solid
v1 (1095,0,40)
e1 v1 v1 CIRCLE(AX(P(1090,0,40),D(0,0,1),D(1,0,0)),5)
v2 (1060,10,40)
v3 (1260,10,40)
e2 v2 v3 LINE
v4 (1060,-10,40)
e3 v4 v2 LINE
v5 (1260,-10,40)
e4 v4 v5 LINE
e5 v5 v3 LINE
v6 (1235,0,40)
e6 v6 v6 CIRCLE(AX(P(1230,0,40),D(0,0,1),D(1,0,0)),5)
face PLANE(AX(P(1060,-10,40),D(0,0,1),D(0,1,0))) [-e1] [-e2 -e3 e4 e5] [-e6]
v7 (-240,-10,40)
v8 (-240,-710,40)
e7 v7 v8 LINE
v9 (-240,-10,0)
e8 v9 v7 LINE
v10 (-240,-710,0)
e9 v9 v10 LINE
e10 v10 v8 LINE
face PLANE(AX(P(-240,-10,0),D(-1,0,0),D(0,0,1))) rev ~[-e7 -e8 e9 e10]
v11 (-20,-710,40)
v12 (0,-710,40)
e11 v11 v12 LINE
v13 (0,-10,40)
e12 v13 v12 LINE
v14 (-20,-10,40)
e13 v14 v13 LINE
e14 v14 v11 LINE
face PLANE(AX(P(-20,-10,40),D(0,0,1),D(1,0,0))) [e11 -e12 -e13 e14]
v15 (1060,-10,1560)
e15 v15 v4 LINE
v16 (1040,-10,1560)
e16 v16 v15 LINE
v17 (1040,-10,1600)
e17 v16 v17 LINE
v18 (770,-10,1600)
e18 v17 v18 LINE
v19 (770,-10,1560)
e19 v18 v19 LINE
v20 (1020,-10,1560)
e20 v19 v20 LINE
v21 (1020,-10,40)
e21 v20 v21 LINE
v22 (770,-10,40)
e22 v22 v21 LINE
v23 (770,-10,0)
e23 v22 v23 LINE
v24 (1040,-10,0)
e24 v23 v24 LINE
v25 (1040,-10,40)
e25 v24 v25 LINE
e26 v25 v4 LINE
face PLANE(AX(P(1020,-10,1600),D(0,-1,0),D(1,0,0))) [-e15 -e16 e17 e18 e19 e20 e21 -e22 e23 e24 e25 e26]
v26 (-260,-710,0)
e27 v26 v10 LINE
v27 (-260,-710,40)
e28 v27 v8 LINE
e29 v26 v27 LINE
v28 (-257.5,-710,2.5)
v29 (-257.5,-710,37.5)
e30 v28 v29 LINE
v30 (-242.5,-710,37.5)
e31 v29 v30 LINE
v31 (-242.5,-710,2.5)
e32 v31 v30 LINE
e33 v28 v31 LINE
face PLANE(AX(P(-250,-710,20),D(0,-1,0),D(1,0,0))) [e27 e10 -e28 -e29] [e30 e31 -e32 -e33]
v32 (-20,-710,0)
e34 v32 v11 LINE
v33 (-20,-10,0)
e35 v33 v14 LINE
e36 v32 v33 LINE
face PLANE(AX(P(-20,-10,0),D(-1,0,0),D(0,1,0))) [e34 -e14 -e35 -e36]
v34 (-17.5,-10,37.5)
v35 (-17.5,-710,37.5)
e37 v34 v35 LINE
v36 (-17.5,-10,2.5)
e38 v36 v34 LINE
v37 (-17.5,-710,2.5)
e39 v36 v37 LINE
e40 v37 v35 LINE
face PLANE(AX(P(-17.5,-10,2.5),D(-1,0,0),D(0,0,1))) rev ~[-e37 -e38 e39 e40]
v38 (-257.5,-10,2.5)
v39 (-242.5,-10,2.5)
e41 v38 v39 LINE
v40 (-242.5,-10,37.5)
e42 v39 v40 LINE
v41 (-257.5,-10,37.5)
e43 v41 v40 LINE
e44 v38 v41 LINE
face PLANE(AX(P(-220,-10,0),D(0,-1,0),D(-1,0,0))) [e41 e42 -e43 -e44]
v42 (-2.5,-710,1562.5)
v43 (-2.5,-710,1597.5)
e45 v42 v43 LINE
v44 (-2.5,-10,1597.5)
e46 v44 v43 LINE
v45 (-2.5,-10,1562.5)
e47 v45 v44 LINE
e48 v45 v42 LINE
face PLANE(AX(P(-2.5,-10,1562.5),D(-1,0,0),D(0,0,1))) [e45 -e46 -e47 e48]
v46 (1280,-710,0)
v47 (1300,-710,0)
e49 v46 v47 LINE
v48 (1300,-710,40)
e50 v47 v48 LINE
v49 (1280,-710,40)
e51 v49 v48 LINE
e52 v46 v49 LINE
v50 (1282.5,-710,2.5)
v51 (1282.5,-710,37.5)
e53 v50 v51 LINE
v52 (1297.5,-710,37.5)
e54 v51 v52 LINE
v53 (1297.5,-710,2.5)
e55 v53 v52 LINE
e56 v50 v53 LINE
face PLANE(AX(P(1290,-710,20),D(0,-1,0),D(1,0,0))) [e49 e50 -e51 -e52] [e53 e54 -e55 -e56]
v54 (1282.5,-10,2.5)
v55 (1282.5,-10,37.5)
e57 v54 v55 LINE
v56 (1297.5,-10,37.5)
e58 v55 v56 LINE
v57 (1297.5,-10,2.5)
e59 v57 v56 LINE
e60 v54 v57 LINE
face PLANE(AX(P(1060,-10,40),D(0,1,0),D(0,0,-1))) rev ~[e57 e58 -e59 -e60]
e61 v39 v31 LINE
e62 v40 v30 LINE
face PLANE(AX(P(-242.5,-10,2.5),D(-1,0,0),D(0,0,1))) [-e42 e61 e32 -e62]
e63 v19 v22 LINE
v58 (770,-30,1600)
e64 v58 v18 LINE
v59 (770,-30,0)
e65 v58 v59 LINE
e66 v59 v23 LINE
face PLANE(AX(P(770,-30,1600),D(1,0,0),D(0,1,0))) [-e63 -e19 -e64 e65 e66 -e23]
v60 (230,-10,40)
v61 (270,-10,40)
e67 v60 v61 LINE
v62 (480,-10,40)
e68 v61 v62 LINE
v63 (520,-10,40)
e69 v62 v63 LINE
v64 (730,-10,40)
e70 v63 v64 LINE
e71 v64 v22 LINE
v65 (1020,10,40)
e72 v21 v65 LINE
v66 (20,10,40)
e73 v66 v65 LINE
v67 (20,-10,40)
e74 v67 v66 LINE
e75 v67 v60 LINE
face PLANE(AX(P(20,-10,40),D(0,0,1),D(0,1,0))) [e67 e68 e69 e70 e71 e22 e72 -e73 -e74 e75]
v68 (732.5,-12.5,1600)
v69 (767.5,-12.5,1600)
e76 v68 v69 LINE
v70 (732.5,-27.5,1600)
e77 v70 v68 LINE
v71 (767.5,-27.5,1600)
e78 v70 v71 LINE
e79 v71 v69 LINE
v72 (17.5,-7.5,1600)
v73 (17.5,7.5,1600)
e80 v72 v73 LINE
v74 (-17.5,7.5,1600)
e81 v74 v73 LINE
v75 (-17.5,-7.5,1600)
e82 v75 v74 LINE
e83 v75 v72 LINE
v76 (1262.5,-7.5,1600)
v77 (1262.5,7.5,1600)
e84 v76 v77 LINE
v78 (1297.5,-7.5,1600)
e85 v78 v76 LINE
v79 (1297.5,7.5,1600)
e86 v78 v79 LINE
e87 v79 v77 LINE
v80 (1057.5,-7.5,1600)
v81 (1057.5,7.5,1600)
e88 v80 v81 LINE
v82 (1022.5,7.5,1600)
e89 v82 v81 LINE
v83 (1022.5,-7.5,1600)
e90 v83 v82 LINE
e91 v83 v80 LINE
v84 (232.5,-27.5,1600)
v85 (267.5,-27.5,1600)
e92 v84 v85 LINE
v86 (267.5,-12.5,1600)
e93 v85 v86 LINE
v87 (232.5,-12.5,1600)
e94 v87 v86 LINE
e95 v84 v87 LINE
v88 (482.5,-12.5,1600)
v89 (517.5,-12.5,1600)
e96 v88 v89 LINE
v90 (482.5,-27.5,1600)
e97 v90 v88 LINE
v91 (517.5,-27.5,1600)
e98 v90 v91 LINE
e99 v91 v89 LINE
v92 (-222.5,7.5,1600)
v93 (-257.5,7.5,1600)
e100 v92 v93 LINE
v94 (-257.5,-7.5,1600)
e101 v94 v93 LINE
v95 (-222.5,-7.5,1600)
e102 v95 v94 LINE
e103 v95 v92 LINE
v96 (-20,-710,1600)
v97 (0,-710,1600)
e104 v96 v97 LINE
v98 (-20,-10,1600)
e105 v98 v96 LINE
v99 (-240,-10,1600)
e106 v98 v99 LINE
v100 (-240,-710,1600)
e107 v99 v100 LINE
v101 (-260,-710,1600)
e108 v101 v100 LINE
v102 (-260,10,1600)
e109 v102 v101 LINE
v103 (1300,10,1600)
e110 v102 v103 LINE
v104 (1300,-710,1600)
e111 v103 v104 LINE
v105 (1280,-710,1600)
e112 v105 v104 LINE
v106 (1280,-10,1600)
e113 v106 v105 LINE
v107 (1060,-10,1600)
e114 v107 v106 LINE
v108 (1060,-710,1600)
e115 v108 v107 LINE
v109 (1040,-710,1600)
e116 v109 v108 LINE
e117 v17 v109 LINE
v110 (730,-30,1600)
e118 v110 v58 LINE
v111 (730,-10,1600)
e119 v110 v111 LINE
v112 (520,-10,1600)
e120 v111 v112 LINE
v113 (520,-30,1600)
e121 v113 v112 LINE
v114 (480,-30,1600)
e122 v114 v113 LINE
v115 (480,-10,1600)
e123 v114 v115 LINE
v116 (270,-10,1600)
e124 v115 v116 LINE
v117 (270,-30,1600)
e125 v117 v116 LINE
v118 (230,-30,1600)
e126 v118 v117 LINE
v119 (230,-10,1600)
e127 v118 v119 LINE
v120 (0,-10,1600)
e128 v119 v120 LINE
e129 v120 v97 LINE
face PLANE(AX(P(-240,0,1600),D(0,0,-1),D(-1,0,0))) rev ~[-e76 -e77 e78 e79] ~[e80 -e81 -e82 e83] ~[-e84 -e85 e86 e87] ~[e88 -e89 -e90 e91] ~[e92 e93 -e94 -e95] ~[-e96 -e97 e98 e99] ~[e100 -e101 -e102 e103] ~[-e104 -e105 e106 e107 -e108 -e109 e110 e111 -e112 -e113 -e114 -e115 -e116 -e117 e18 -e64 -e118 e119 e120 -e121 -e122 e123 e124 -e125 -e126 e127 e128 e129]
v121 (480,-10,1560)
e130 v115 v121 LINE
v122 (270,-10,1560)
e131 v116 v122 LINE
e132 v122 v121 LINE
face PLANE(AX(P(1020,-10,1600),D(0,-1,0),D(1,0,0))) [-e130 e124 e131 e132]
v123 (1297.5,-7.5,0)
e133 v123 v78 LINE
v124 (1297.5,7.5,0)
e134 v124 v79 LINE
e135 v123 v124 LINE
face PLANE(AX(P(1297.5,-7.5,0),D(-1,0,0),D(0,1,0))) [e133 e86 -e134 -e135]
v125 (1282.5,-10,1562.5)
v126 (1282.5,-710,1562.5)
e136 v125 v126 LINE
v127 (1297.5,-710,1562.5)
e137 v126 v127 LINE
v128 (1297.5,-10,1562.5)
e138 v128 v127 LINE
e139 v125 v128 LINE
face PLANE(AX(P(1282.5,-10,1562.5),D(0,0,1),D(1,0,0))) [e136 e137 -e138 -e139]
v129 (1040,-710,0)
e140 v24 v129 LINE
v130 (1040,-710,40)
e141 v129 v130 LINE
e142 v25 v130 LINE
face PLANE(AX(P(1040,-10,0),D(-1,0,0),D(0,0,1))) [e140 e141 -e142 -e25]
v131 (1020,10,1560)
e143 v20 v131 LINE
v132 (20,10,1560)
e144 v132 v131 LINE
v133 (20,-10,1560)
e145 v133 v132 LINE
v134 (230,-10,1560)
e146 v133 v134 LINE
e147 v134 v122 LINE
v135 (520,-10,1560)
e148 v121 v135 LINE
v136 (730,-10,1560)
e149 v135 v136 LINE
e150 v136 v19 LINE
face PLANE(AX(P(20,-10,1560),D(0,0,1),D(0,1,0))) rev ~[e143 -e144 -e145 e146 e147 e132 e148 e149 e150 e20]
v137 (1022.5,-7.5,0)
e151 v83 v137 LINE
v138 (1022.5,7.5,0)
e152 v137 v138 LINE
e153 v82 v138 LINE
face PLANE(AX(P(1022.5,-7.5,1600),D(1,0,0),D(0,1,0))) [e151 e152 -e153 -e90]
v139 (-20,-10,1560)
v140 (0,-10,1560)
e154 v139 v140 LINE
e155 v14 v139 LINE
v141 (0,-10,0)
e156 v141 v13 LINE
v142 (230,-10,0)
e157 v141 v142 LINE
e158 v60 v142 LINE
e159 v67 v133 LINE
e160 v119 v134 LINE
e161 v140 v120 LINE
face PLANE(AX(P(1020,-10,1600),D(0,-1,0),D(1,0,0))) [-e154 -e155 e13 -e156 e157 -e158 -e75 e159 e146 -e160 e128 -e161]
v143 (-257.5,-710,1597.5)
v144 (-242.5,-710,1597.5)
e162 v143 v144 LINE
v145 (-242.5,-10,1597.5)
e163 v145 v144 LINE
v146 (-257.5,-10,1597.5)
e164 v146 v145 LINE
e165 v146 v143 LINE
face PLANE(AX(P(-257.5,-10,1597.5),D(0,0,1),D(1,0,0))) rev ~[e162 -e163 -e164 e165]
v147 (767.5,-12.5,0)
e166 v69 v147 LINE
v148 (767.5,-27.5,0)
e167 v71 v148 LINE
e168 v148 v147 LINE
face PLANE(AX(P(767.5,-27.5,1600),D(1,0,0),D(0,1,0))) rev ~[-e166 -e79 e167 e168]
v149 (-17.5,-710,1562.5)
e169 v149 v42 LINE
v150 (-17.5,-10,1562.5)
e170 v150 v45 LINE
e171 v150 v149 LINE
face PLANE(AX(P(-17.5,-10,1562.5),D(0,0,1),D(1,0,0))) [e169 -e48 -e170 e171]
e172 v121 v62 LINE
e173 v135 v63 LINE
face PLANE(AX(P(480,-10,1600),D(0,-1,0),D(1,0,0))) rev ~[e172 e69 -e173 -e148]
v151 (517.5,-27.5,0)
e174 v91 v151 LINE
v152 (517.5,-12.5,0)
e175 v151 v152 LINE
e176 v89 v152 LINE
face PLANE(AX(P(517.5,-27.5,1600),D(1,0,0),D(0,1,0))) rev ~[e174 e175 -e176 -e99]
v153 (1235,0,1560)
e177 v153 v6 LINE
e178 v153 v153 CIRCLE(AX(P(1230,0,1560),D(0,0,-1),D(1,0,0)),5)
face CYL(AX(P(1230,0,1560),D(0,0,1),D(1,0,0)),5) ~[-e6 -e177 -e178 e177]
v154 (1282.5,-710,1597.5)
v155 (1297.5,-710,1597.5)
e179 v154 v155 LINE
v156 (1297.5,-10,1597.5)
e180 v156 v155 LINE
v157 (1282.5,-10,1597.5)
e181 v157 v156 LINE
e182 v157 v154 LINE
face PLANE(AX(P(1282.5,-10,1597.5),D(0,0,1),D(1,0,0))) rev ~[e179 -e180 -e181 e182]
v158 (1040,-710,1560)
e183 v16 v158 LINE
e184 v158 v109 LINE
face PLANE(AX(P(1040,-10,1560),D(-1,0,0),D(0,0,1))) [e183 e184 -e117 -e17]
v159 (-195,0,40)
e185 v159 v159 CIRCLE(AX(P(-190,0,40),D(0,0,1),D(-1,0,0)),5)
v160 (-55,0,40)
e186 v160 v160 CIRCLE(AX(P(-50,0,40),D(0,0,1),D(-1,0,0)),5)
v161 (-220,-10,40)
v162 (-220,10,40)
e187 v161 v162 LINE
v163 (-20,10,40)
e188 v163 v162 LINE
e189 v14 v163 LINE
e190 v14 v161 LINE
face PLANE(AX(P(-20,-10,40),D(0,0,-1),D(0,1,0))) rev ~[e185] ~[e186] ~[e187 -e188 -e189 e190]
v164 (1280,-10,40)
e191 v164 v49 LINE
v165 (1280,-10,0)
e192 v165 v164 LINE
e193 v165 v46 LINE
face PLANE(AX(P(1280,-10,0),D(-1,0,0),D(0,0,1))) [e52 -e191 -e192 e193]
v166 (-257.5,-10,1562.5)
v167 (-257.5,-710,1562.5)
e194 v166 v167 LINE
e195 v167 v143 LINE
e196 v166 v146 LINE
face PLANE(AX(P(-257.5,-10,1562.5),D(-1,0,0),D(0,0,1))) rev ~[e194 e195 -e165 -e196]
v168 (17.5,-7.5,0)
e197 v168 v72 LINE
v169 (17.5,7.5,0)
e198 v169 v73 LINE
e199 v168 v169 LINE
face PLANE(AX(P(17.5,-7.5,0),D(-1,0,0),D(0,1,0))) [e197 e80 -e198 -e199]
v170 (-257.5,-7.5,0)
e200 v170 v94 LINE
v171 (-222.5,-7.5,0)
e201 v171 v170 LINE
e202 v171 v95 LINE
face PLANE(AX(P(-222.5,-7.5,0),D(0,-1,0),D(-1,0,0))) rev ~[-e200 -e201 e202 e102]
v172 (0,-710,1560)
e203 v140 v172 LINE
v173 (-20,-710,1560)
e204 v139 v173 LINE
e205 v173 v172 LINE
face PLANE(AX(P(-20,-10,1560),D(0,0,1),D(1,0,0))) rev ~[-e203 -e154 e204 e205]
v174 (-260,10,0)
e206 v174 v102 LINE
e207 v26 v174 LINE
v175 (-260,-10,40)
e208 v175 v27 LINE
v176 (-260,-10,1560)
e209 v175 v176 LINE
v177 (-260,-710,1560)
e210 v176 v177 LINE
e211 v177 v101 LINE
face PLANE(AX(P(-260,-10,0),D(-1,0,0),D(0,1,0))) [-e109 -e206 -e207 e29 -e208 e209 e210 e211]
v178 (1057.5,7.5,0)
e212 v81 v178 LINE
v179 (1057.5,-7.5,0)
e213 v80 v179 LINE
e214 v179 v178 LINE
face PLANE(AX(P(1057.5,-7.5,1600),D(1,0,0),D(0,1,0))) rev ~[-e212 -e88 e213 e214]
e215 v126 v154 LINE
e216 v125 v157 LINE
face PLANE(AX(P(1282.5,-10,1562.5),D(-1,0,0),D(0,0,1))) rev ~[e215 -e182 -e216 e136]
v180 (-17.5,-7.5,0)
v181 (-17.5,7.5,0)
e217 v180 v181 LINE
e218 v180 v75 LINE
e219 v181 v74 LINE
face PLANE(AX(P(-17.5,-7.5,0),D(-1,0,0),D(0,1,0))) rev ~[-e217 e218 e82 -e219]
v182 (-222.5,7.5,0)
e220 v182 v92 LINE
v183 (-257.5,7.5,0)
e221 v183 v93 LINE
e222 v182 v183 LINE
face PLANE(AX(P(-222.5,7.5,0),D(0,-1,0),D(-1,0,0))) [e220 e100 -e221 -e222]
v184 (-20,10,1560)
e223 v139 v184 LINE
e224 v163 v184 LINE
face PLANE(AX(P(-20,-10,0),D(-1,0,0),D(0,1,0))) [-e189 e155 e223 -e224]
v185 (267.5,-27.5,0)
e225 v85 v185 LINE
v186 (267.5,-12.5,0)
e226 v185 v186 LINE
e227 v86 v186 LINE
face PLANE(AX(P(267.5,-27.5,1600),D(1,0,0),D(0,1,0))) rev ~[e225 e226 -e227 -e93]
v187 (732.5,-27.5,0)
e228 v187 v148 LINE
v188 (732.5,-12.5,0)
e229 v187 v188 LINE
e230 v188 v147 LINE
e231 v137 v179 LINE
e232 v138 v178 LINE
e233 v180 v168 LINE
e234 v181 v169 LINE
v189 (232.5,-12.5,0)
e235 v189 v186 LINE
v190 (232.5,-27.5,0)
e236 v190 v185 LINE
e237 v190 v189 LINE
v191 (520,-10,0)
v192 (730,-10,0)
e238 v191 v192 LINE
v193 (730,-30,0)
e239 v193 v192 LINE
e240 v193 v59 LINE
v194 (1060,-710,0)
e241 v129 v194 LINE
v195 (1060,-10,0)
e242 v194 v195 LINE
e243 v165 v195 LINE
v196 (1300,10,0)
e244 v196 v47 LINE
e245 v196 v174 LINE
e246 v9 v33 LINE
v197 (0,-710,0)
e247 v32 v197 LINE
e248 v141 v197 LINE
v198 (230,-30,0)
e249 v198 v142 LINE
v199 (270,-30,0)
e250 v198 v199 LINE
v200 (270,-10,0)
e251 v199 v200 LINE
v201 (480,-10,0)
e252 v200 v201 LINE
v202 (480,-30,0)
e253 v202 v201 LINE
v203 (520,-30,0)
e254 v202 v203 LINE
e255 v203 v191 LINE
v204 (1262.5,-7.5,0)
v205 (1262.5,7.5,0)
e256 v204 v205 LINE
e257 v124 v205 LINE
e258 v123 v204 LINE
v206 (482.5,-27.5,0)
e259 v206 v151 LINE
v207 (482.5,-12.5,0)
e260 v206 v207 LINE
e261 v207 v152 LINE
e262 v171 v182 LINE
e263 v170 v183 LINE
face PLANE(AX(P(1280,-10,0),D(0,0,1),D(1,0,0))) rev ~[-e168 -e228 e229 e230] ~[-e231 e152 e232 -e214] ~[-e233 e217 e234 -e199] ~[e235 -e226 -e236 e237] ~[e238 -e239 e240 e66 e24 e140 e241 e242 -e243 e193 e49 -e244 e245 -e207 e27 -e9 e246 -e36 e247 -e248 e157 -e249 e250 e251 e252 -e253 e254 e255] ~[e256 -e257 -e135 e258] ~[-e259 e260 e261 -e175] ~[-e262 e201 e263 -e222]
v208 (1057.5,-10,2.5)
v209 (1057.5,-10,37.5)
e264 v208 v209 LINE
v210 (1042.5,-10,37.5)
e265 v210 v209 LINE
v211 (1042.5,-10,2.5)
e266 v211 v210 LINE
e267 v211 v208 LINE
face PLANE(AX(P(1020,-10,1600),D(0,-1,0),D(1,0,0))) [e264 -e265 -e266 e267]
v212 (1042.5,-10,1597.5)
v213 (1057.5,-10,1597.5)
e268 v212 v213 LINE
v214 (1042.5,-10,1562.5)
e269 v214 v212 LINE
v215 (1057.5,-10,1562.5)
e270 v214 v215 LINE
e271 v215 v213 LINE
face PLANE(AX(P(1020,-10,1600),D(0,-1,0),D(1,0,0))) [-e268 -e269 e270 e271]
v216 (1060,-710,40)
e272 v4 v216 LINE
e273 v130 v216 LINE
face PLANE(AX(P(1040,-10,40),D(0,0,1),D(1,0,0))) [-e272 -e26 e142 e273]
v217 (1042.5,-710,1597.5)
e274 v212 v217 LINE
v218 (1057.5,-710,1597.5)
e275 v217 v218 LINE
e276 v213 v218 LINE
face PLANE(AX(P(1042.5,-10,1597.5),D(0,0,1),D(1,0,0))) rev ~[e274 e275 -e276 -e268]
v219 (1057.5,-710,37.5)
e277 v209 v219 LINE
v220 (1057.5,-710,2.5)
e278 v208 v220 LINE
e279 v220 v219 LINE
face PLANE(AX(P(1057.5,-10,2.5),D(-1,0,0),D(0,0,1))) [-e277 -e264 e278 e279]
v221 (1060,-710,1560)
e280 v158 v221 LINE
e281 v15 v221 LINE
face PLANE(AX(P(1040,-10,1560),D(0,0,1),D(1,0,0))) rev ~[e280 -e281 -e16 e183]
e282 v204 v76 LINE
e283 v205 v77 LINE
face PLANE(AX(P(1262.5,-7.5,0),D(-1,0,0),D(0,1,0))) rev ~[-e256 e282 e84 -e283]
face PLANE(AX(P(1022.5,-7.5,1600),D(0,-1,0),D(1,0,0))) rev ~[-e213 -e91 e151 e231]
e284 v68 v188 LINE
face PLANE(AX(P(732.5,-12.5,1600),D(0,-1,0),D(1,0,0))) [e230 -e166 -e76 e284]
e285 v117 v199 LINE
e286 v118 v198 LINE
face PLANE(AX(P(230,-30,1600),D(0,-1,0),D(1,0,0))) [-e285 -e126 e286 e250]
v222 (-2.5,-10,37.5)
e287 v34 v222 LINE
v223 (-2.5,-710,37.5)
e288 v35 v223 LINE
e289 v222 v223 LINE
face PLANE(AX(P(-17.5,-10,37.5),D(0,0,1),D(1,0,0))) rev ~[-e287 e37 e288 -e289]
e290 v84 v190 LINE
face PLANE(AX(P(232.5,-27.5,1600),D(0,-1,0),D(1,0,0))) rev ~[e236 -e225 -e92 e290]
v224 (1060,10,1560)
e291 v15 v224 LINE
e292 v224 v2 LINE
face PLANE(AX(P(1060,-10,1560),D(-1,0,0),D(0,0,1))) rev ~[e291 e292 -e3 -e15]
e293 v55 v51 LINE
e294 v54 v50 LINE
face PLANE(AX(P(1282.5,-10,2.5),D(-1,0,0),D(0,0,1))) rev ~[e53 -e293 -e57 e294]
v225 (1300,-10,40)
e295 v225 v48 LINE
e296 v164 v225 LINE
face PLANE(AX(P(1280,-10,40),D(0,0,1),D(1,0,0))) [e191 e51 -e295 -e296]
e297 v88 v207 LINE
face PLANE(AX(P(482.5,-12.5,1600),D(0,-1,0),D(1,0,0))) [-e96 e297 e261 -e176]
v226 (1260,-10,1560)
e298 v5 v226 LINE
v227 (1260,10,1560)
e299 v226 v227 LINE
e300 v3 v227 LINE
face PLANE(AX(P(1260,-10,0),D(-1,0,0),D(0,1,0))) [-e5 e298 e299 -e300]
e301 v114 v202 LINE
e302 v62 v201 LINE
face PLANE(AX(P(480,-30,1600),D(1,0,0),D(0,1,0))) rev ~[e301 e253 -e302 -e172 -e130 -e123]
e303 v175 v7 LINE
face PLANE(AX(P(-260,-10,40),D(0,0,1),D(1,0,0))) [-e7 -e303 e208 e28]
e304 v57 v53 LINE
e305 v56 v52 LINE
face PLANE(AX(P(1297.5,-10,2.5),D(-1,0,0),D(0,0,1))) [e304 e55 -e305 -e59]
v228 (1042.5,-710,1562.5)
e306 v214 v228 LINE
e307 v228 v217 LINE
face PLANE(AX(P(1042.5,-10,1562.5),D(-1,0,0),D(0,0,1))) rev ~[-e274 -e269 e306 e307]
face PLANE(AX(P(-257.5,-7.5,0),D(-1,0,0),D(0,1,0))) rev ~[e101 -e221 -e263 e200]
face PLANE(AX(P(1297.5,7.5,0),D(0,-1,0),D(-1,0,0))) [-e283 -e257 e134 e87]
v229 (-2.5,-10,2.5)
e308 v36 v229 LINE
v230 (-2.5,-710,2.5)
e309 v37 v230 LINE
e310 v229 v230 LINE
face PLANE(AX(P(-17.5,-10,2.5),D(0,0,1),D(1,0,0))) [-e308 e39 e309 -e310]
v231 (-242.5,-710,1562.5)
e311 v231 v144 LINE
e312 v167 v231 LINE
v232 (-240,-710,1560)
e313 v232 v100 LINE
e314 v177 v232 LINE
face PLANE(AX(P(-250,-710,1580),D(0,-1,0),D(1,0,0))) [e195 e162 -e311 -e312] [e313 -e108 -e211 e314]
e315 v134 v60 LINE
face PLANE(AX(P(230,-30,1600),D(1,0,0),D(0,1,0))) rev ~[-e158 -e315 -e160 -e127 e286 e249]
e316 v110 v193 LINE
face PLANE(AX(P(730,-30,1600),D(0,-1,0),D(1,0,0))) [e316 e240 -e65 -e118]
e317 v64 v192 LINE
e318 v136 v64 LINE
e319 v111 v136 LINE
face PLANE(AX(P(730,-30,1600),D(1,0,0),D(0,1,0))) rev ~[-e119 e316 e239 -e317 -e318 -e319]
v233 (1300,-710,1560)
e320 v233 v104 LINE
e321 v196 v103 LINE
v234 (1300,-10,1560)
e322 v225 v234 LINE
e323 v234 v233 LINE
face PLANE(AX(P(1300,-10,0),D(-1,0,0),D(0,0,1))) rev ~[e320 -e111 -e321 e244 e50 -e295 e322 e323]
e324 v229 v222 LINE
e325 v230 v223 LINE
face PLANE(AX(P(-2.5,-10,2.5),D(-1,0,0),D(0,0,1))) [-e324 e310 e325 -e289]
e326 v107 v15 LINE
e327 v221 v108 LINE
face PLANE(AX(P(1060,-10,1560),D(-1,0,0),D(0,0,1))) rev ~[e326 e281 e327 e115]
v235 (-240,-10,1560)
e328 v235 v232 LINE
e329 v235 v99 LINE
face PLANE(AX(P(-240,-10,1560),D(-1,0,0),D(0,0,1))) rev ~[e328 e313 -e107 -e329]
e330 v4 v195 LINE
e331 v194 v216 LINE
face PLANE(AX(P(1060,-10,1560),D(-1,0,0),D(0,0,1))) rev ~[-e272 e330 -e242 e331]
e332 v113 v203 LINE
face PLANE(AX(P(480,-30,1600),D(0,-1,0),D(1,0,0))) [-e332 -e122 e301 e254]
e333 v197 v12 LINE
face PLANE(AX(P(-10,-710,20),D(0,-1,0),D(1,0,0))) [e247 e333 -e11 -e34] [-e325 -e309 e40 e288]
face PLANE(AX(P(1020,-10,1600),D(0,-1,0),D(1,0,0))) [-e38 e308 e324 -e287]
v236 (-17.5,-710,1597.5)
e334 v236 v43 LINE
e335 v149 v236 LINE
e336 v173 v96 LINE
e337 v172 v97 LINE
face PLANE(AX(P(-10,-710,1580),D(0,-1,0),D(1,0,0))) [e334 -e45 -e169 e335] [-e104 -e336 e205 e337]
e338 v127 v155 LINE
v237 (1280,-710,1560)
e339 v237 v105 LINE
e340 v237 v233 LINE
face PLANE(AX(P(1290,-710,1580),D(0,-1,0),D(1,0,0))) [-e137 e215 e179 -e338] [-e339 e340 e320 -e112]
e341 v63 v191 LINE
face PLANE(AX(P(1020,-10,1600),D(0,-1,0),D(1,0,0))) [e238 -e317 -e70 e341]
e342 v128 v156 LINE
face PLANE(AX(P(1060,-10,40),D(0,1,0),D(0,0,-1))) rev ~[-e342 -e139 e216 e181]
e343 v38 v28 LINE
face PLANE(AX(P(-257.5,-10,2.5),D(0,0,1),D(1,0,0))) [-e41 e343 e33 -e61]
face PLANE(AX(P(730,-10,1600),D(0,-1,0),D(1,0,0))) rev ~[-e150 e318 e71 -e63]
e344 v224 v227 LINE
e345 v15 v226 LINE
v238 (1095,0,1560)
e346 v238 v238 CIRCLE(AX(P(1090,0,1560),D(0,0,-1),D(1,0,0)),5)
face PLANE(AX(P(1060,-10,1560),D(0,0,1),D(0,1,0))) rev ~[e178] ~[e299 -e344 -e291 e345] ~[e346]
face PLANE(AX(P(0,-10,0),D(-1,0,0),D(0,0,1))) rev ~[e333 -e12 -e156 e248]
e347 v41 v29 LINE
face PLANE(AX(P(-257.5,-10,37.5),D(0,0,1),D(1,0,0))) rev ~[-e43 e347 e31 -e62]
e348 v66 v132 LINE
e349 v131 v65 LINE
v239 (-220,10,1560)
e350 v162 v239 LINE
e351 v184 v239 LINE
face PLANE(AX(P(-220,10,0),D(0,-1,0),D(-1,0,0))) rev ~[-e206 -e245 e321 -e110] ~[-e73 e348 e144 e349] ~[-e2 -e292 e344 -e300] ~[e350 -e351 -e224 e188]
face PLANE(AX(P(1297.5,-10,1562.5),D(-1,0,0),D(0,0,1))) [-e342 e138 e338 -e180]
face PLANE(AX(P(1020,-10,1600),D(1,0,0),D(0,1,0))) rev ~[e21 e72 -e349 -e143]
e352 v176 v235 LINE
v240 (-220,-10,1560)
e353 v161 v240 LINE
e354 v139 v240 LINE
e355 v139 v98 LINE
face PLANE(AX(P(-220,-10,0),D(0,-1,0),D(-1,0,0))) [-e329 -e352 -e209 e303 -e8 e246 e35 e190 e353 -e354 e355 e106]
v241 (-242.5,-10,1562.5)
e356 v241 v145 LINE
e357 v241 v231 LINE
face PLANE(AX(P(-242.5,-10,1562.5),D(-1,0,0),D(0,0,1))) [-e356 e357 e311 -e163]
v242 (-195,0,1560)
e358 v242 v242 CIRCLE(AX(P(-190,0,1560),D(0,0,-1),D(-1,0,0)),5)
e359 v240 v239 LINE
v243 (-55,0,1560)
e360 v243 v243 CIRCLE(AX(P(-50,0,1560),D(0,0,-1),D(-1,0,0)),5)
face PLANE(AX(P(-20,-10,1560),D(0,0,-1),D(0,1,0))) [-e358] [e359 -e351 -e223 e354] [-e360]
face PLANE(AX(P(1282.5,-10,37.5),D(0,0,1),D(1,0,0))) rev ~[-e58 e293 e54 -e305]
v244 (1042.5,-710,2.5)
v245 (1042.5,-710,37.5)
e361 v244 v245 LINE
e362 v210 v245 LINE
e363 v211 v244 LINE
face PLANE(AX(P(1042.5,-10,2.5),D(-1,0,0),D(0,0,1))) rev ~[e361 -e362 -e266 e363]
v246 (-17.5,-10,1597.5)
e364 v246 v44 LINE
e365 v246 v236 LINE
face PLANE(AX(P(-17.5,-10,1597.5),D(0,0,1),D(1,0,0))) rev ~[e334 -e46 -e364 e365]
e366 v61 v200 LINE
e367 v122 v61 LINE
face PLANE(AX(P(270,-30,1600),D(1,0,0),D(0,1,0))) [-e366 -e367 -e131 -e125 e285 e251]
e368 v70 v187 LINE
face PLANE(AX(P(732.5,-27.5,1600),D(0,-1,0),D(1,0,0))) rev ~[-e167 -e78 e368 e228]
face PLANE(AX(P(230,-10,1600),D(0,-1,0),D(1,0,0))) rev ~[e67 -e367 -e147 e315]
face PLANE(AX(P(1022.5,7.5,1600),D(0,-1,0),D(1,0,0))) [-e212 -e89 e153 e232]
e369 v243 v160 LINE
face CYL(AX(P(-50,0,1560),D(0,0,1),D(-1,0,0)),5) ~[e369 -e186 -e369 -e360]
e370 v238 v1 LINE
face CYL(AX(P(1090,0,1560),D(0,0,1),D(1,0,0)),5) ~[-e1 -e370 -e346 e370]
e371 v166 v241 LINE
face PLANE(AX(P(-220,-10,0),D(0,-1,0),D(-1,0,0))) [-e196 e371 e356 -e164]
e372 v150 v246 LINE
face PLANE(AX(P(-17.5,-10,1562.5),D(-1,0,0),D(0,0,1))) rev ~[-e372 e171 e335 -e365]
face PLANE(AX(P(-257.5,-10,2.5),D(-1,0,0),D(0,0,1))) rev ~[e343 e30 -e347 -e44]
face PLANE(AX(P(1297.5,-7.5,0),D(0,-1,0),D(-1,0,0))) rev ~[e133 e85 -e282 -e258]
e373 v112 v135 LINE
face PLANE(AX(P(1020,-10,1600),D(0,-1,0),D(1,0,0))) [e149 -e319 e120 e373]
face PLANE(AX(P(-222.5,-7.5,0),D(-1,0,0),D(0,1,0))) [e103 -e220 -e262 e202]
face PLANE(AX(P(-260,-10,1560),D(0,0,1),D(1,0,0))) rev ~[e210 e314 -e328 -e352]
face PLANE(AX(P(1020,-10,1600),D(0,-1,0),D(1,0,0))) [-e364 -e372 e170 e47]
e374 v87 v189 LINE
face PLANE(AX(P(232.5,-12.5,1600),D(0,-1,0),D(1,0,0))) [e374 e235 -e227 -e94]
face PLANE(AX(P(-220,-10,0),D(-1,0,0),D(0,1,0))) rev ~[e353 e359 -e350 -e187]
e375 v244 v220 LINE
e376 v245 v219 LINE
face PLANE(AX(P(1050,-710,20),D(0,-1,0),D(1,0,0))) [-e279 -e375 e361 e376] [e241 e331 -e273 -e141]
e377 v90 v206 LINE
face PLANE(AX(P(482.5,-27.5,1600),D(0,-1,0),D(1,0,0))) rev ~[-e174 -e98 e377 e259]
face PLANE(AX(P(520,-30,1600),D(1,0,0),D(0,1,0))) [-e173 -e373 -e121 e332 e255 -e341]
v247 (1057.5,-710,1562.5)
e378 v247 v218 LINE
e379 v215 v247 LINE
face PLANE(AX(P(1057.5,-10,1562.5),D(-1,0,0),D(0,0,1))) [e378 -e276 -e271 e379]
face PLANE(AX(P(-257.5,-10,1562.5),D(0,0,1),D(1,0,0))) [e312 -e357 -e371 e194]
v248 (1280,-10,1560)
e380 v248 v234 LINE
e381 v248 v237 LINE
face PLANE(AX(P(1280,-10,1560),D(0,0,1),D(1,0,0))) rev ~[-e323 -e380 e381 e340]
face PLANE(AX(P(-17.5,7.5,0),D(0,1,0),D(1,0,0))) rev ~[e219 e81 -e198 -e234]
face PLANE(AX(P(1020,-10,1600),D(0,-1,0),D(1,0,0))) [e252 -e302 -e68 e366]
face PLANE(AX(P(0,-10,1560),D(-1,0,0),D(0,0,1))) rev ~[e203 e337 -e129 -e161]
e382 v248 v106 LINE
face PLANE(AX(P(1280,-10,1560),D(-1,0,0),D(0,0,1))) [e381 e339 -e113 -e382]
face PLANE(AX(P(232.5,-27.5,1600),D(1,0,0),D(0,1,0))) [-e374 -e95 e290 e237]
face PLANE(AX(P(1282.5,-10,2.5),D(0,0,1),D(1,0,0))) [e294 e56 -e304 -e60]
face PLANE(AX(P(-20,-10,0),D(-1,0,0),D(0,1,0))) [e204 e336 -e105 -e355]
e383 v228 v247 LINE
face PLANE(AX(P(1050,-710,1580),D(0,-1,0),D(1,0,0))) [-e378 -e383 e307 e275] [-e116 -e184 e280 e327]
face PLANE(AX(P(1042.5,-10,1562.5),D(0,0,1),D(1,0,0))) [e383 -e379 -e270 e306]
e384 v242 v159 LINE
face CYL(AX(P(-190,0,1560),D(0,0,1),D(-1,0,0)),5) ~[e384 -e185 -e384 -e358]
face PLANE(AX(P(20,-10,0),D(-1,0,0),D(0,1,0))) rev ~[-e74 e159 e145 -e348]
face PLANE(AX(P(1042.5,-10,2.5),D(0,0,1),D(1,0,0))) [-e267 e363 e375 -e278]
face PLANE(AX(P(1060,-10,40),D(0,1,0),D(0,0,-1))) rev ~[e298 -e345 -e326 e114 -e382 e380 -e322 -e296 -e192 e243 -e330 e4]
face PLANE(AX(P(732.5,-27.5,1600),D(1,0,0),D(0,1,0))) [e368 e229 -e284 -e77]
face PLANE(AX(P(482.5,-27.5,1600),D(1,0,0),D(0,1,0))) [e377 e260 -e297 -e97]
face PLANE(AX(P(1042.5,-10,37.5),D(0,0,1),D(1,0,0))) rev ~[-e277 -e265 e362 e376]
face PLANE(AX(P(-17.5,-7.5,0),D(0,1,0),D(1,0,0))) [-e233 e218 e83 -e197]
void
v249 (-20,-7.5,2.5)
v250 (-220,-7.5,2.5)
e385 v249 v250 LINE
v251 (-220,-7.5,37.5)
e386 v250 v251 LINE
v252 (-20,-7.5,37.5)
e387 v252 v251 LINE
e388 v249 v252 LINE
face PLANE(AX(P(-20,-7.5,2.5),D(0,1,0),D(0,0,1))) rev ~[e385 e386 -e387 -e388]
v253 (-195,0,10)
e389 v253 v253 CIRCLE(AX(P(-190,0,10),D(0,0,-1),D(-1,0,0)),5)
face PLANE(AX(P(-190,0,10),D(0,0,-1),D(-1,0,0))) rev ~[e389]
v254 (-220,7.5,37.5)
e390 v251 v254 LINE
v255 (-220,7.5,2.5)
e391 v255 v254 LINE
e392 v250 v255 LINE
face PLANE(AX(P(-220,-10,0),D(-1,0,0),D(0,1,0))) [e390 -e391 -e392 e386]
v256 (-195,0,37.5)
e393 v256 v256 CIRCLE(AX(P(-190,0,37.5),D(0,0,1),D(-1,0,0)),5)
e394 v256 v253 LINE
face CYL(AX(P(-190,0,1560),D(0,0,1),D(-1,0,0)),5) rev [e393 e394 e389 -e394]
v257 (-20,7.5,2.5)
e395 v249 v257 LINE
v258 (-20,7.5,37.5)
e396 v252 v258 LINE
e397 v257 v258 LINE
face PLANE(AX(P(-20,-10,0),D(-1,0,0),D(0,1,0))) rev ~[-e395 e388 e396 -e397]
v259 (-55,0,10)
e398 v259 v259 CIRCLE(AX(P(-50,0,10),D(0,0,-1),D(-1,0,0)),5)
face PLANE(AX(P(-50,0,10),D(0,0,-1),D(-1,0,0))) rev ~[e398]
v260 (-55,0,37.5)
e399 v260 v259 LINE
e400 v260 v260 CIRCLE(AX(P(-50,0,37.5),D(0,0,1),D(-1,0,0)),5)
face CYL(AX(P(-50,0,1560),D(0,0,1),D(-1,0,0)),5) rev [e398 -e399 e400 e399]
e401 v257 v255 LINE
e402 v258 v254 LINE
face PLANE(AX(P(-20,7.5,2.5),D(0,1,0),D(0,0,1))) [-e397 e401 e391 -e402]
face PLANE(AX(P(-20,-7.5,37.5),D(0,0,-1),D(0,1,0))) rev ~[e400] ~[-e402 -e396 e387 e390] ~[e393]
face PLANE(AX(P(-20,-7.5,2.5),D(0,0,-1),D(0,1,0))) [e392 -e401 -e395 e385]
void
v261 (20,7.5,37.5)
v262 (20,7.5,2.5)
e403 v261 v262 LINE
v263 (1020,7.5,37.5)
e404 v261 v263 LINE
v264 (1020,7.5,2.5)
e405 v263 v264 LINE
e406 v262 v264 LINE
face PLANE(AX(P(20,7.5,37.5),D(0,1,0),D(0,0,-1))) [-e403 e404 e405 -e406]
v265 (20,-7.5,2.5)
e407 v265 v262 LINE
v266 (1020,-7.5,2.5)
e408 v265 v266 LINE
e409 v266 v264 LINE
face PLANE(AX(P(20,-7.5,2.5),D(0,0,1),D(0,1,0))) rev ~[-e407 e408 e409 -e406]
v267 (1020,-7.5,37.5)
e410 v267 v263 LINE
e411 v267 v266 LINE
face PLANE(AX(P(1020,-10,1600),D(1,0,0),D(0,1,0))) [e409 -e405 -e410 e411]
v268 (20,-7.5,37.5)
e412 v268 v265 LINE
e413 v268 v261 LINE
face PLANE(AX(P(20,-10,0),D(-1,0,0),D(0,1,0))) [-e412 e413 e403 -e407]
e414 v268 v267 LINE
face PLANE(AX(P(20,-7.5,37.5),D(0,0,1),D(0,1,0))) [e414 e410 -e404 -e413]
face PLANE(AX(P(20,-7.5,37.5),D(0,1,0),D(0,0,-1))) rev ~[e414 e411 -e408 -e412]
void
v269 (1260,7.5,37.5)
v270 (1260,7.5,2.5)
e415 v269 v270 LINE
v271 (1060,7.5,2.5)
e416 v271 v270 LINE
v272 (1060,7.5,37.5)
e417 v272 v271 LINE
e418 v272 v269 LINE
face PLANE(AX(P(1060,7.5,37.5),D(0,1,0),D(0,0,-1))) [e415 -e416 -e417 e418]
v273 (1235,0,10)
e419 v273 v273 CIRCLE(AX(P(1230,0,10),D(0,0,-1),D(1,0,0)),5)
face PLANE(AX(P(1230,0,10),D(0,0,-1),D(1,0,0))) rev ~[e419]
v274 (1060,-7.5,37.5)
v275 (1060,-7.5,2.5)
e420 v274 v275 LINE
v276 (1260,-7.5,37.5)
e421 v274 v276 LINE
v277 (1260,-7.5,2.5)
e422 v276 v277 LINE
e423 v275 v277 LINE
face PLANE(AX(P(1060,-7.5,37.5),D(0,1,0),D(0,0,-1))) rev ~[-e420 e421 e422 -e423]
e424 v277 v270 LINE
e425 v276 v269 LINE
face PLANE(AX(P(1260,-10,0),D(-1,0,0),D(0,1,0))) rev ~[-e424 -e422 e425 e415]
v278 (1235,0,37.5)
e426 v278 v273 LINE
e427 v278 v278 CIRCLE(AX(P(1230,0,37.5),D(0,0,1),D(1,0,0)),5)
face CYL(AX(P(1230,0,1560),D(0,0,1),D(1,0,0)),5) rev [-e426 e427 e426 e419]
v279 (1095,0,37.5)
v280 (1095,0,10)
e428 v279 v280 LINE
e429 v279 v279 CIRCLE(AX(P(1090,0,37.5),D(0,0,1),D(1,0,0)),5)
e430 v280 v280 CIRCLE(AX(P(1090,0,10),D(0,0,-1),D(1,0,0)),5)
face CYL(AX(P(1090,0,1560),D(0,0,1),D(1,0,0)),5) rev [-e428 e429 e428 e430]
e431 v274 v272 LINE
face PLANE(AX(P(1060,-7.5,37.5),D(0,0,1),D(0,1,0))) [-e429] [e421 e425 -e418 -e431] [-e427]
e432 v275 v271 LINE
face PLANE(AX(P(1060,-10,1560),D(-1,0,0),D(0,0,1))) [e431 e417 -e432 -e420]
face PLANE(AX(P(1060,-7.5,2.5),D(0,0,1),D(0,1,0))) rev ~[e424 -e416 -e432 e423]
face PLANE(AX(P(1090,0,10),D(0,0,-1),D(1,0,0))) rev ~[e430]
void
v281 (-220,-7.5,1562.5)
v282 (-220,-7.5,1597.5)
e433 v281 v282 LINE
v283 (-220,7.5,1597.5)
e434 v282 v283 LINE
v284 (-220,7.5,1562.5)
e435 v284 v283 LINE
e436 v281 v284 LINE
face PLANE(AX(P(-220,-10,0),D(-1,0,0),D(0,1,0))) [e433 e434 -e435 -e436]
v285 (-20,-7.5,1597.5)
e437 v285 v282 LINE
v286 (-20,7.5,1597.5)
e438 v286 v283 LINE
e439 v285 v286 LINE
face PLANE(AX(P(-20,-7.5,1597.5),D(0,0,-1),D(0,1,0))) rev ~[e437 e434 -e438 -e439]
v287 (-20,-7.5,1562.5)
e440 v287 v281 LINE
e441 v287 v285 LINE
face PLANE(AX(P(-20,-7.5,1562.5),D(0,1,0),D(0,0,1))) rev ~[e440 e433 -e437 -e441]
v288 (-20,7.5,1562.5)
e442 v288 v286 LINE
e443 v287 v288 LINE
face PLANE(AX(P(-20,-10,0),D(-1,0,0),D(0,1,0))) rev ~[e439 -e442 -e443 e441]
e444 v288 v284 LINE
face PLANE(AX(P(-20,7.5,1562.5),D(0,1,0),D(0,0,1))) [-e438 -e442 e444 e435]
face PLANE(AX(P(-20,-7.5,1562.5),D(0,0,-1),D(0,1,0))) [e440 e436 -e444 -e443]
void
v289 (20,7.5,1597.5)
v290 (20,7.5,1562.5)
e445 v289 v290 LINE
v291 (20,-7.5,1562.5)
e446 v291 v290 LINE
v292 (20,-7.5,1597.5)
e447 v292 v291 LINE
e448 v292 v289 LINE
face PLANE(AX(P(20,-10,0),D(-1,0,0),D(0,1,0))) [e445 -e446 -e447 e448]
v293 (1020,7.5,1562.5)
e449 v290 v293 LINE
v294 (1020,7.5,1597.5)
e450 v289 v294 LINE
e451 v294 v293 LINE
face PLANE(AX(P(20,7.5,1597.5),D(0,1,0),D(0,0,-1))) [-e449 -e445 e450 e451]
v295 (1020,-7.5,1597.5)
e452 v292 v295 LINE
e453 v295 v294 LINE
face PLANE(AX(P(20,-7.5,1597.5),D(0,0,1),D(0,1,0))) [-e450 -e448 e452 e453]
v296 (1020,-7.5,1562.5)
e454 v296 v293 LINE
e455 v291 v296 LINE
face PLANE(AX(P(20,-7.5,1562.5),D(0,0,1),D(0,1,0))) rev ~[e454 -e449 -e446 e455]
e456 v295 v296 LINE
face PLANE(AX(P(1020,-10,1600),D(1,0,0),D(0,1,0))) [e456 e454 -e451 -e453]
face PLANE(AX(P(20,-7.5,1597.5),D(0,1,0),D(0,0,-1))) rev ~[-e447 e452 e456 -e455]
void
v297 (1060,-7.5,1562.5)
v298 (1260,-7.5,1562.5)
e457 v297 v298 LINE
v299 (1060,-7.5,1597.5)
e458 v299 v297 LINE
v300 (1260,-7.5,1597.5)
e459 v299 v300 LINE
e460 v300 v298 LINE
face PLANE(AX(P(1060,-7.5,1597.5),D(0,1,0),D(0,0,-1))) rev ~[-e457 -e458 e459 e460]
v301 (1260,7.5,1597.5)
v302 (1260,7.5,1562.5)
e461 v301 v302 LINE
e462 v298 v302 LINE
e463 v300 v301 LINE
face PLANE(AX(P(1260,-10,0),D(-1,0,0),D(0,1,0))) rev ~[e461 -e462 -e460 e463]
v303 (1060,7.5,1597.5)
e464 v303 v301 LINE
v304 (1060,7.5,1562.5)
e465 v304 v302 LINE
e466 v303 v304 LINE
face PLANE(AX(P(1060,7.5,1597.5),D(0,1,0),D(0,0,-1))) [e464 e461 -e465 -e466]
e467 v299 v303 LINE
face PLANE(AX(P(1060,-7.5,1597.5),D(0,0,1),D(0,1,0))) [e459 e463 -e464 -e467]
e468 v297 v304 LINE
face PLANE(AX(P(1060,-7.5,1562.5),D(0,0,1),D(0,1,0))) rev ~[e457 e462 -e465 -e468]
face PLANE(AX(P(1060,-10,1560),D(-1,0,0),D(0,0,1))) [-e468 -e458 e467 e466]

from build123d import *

# Parameters (mm, degrees)
SKETCH1_W            = 40
SKETCH1_H            = 20
SKETCH1_W_2          = 35
SKETCH1_H_2          = 15
BOSS_EXTRUDE1_DEPTH  = 1600
SKETCH2_W            = 40
SKETCH2_H            = 20
SKETCH2_W_2          = 35
SKETCH2_H_2          = 15
BOSS_EXTRUDE3_DEPTH  = 1000
SKETCH3_W            = 40
SKETCH3_H            = 20
SKETCH3_W_2          = 35
SKETCH3_H_2          = 15
BOSS_EXTRUDE4_DEPTH  = 1600
SKETCH4_W            = 20
SKETCH4_H            = 40
SKETCH4_W_2          = 15
SKETCH4_H_2          = 35
BOSS_EXTRUDE5_DEPTH  = 700
SKETCH5_W            = 40
SKETCH5_H            = 20
SKETCH5_W_2          = 35
SKETCH5_H_2          = 15
BOSS_EXTRUDE6_DEPTH  = 1600
SKETCH7_W            = 40
SKETCH7_H            = 20
SKETCH7_W_2          = 35
SKETCH7_H_2          = 15
BOSS_EXTRUDE7_DEPTH  = 200
SKETCH10_W           = 40
SKETCH10_H           = 20
SKETCH10_W_2         = 35
SKETCH10_H_2         = 15
BOSS_EXTRUDE9_DEPTH  = 200
SKETCH11_W           = 40
SKETCH11_H           = 20
SKETCH11_W_2         = 35
SKETCH11_H_2         = 15
BOSS_EXTRUDE10_DEPTH = 1600
SKETCH12_W           = 20
SKETCH12_H           = 40
SKETCH12_W_2         = 15
SKETCH12_H_2         = 35
BOSS_EXTRUDE11_DEPTH = 700
SKETCH14_R           = 5
BOSS_EXTRUDE13_DEPTH = 1550


with BuildPart() as part:
    # Sketch1 → Boss-Extrude1 (new body)
    with BuildSketch(Plane.XY):
        Rectangle(SKETCH1_W, SKETCH1_H)
        Rectangle(SKETCH1_W_2, SKETCH1_H_2, mode=Mode.SUBTRACT)
    extrude(amount=BOSS_EXTRUDE1_DEPTH)

    # Sketch2 → Boss-Extrude3 (add)
    # profile 1 of 2: a face of its own
    with BuildSketch(Plane(origin=(20, 0, 0), x_dir=(0, 0, -1), z_dir=(1, 0, 0))):
        with Locations((-1580, 0)):
            Rectangle(SKETCH2_W, SKETCH2_H)
        with Locations((-1580, 0)):
            Rectangle(SKETCH2_W_2, SKETCH2_H_2, mode=Mode.SUBTRACT)
    # profile 2 of 2: a face of its own
    with BuildSketch(Plane(origin=(20, 0, 0), x_dir=(0, 0, -1), z_dir=(1, 0, 0))):
        with Locations((-20, 0)):
            Rectangle(SKETCH2_W, SKETCH2_H)
        with Locations((-20, 0)):
            Rectangle(SKETCH2_W_2, SKETCH2_H_2, mode=Mode.SUBTRACT)
    extrude(amount=BOSS_EXTRUDE3_DEPTH)

    # Sketch3 → Boss-Extrude4 (add)
    with BuildSketch(Plane.XY.offset(1600)):
        with Locations((1040, 0)):
            Rectangle(SKETCH3_W, SKETCH3_H)
        with Locations((1040, 0)):
            Rectangle(SKETCH3_W_2, SKETCH3_H_2, mode=Mode.SUBTRACT)
    extrude(amount=-BOSS_EXTRUDE4_DEPTH)

    # Sketch4 → Boss-Extrude5 (add)
    # profile 1 of 4: a face of its own
    with BuildSketch(Plane.XZ.offset(10)):
        with Locations((1050, 1580)):
            Rectangle(SKETCH4_W, SKETCH4_H)
        with Locations((1050, 1580)):
            Rectangle(SKETCH4_W_2, SKETCH4_H_2, mode=Mode.SUBTRACT)
    # profile 2 of 4: a face of its own
    with BuildSketch(Plane.XZ.offset(10)):
        with Locations((1050, 20)):
            Rectangle(SKETCH4_W, SKETCH4_H)
        with Locations((1050, 20)):
            Rectangle(SKETCH4_W_2, SKETCH4_H_2, mode=Mode.SUBTRACT)
    # profile 3 of 4: a face of its own
    with BuildSketch(Plane.XZ.offset(10)):
        with Locations((-10, 20)):
            Rectangle(SKETCH4_W, SKETCH4_H)
        with Locations((-10, 20)):
            Rectangle(SKETCH4_W_2, SKETCH4_H_2, mode=Mode.SUBTRACT)
    # profile 4 of 4: a face of its own
    with BuildSketch(Plane.XZ.offset(10)):
        with Locations((-10, 1580)):
            Rectangle(SKETCH4_W, SKETCH4_H)
        with Locations((-10, 1580)):
            Rectangle(SKETCH4_W_2, SKETCH4_H_2, mode=Mode.SUBTRACT)
    extrude(amount=BOSS_EXTRUDE5_DEPTH)

    # Sketch5 → Boss-Extrude6 (add)
    # profile 1 of 3: a face of its own
    with BuildSketch(Plane.XY.offset(1600)):
        with Locations((250, -20)):
            Rectangle(SKETCH5_W, SKETCH5_H)
        with Locations((250, -20)):
            Rectangle(SKETCH5_W_2, SKETCH5_H_2, mode=Mode.SUBTRACT)
    # profile 2 of 3: a face of its own
    with BuildSketch(Plane.XY.offset(1600)):
        with Locations((500, -20)):
            Rectangle(SKETCH5_W, SKETCH5_H)
        with Locations((500, -20)):
            Rectangle(SKETCH5_W_2, SKETCH5_H_2, mode=Mode.SUBTRACT)
    # profile 3 of 3: a face of its own
    with BuildSketch(Plane.XY.offset(1600)):
        with Locations((750, -20)):
            Rectangle(SKETCH5_W, SKETCH5_H)
        with Locations((750, -20)):
            Rectangle(SKETCH5_W_2, SKETCH5_H_2, mode=Mode.SUBTRACT)
    extrude(amount=-BOSS_EXTRUDE6_DEPTH)

    # Sketch7 → Boss-Extrude7 (add)
    # profile 1 of 2: a face of its own
    with BuildSketch(Plane(origin=(1060, 0, 0), x_dir=(0, 0, -1), z_dir=(1, 0, 0))):
        with Locations((-1580, 0)):
            Rectangle(SKETCH7_W, SKETCH7_H)
        with Locations((-1580, 0)):
            Rectangle(SKETCH7_W_2, SKETCH7_H_2, mode=Mode.SUBTRACT)
    # profile 2 of 2: a face of its own
    with BuildSketch(Plane(origin=(1060, 0, 0), x_dir=(0, 0, -1), z_dir=(1, 0, 0))):
        with Locations((-20, 0)):
            Rectangle(SKETCH7_W, SKETCH7_H)
        with Locations((-20, 0)):
            Rectangle(SKETCH7_W_2, SKETCH7_H_2, mode=Mode.SUBTRACT)
    extrude(amount=BOSS_EXTRUDE7_DEPTH)

    # Sketch10 → Boss-Extrude9 (add)
    # profile 1 of 2: a face of its own
    with BuildSketch(Plane.ZY.offset(20)):
        with Locations((20, 0)):
            Rectangle(SKETCH10_W, SKETCH10_H)
        with Locations((20, 0)):
            Rectangle(SKETCH10_W_2, SKETCH10_H_2, mode=Mode.SUBTRACT)
    # profile 2 of 2: a face of its own
    with BuildSketch(Plane.ZY.offset(20)):
        with Locations((1580, 0)):
            Rectangle(SKETCH10_W, SKETCH10_H)
        with Locations((1580, 0)):
            Rectangle(SKETCH10_W_2, SKETCH10_H_2, mode=Mode.SUBTRACT)
    extrude(amount=BOSS_EXTRUDE9_DEPTH)

    # Sketch11 → Boss-Extrude10 (add)
    # profile 1 of 2: a face of its own
    with BuildSketch(Plane(origin=(0, 0, 0), x_dir=(-1, 0, 0), z_dir=(0, 0, -1))):
        with Locations((240, 0)):
            Rectangle(SKETCH11_W, SKETCH11_H)
        with Locations((240, 0)):
            Rectangle(SKETCH11_W_2, SKETCH11_H_2, mode=Mode.SUBTRACT)
    # profile 2 of 2: a face of its own
    with BuildSketch(Plane(origin=(0, 0, 0), x_dir=(-1, 0, 0), z_dir=(0, 0, -1))):
        with Locations((-1280, 0)):
            Rectangle(SKETCH11_W, SKETCH11_H)
        with Locations((-1280, 0)):
            Rectangle(SKETCH11_W_2, SKETCH11_H_2, mode=Mode.SUBTRACT)
    extrude(amount=-BOSS_EXTRUDE10_DEPTH)

    # Sketch12 → Boss-Extrude11 (add)
    # profile 1 of 4: a face of its own
    with BuildSketch(Plane.XZ.offset(10)):
        with Locations((1290, 20)):
            Rectangle(SKETCH12_W, SKETCH12_H)
        with Locations((1290, 20)):
            Rectangle(SKETCH12_W_2, SKETCH12_H_2, mode=Mode.SUBTRACT)
    # profile 2 of 4: a face of its own
    with BuildSketch(Plane.XZ.offset(10)):
        with Locations((-250, 20)):
            Rectangle(SKETCH12_W, SKETCH12_H)
        with Locations((-250, 20)):
            Rectangle(SKETCH12_W_2, SKETCH12_H_2, mode=Mode.SUBTRACT)
    # profile 3 of 4: a face of its own
    with BuildSketch(Plane.XZ.offset(10)):
        with Locations((1290, 1580)):
            Rectangle(SKETCH12_W, SKETCH12_H)
        with Locations((1290, 1580)):
            Rectangle(SKETCH12_W_2, SKETCH12_H_2, mode=Mode.SUBTRACT)
    # profile 4 of 4: a face of its own
    with BuildSketch(Plane.XZ.offset(10)):
        with Locations((-250, 1580)):
            Rectangle(SKETCH12_W, SKETCH12_H)
        with Locations((-250, 1580)):
            Rectangle(SKETCH12_W_2, SKETCH12_H_2, mode=Mode.SUBTRACT)
    extrude(amount=BOSS_EXTRUDE11_DEPTH)

    # Sketch14 → Boss-Extrude13 (add)
    with BuildSketch(Plane(origin=(0, 0, 1560), x_dir=(-1, 0, 0), z_dir=(0, 0, -1))):
        with Locations(Location((-1230, 0, 0), (0, 0, 180))):
            Circle(SKETCH14_R)
        with Locations(Location((-1090, 0, 0), (0, 0, 180))):
            Circle(SKETCH14_R)
        with Locations((50, 0)):
            Circle(SKETCH14_R)
        with Locations((190, 0)):
            Circle(SKETCH14_R)
    extrude(amount=BOSS_EXTRUDE13_DEPTH)


solid = part.part
